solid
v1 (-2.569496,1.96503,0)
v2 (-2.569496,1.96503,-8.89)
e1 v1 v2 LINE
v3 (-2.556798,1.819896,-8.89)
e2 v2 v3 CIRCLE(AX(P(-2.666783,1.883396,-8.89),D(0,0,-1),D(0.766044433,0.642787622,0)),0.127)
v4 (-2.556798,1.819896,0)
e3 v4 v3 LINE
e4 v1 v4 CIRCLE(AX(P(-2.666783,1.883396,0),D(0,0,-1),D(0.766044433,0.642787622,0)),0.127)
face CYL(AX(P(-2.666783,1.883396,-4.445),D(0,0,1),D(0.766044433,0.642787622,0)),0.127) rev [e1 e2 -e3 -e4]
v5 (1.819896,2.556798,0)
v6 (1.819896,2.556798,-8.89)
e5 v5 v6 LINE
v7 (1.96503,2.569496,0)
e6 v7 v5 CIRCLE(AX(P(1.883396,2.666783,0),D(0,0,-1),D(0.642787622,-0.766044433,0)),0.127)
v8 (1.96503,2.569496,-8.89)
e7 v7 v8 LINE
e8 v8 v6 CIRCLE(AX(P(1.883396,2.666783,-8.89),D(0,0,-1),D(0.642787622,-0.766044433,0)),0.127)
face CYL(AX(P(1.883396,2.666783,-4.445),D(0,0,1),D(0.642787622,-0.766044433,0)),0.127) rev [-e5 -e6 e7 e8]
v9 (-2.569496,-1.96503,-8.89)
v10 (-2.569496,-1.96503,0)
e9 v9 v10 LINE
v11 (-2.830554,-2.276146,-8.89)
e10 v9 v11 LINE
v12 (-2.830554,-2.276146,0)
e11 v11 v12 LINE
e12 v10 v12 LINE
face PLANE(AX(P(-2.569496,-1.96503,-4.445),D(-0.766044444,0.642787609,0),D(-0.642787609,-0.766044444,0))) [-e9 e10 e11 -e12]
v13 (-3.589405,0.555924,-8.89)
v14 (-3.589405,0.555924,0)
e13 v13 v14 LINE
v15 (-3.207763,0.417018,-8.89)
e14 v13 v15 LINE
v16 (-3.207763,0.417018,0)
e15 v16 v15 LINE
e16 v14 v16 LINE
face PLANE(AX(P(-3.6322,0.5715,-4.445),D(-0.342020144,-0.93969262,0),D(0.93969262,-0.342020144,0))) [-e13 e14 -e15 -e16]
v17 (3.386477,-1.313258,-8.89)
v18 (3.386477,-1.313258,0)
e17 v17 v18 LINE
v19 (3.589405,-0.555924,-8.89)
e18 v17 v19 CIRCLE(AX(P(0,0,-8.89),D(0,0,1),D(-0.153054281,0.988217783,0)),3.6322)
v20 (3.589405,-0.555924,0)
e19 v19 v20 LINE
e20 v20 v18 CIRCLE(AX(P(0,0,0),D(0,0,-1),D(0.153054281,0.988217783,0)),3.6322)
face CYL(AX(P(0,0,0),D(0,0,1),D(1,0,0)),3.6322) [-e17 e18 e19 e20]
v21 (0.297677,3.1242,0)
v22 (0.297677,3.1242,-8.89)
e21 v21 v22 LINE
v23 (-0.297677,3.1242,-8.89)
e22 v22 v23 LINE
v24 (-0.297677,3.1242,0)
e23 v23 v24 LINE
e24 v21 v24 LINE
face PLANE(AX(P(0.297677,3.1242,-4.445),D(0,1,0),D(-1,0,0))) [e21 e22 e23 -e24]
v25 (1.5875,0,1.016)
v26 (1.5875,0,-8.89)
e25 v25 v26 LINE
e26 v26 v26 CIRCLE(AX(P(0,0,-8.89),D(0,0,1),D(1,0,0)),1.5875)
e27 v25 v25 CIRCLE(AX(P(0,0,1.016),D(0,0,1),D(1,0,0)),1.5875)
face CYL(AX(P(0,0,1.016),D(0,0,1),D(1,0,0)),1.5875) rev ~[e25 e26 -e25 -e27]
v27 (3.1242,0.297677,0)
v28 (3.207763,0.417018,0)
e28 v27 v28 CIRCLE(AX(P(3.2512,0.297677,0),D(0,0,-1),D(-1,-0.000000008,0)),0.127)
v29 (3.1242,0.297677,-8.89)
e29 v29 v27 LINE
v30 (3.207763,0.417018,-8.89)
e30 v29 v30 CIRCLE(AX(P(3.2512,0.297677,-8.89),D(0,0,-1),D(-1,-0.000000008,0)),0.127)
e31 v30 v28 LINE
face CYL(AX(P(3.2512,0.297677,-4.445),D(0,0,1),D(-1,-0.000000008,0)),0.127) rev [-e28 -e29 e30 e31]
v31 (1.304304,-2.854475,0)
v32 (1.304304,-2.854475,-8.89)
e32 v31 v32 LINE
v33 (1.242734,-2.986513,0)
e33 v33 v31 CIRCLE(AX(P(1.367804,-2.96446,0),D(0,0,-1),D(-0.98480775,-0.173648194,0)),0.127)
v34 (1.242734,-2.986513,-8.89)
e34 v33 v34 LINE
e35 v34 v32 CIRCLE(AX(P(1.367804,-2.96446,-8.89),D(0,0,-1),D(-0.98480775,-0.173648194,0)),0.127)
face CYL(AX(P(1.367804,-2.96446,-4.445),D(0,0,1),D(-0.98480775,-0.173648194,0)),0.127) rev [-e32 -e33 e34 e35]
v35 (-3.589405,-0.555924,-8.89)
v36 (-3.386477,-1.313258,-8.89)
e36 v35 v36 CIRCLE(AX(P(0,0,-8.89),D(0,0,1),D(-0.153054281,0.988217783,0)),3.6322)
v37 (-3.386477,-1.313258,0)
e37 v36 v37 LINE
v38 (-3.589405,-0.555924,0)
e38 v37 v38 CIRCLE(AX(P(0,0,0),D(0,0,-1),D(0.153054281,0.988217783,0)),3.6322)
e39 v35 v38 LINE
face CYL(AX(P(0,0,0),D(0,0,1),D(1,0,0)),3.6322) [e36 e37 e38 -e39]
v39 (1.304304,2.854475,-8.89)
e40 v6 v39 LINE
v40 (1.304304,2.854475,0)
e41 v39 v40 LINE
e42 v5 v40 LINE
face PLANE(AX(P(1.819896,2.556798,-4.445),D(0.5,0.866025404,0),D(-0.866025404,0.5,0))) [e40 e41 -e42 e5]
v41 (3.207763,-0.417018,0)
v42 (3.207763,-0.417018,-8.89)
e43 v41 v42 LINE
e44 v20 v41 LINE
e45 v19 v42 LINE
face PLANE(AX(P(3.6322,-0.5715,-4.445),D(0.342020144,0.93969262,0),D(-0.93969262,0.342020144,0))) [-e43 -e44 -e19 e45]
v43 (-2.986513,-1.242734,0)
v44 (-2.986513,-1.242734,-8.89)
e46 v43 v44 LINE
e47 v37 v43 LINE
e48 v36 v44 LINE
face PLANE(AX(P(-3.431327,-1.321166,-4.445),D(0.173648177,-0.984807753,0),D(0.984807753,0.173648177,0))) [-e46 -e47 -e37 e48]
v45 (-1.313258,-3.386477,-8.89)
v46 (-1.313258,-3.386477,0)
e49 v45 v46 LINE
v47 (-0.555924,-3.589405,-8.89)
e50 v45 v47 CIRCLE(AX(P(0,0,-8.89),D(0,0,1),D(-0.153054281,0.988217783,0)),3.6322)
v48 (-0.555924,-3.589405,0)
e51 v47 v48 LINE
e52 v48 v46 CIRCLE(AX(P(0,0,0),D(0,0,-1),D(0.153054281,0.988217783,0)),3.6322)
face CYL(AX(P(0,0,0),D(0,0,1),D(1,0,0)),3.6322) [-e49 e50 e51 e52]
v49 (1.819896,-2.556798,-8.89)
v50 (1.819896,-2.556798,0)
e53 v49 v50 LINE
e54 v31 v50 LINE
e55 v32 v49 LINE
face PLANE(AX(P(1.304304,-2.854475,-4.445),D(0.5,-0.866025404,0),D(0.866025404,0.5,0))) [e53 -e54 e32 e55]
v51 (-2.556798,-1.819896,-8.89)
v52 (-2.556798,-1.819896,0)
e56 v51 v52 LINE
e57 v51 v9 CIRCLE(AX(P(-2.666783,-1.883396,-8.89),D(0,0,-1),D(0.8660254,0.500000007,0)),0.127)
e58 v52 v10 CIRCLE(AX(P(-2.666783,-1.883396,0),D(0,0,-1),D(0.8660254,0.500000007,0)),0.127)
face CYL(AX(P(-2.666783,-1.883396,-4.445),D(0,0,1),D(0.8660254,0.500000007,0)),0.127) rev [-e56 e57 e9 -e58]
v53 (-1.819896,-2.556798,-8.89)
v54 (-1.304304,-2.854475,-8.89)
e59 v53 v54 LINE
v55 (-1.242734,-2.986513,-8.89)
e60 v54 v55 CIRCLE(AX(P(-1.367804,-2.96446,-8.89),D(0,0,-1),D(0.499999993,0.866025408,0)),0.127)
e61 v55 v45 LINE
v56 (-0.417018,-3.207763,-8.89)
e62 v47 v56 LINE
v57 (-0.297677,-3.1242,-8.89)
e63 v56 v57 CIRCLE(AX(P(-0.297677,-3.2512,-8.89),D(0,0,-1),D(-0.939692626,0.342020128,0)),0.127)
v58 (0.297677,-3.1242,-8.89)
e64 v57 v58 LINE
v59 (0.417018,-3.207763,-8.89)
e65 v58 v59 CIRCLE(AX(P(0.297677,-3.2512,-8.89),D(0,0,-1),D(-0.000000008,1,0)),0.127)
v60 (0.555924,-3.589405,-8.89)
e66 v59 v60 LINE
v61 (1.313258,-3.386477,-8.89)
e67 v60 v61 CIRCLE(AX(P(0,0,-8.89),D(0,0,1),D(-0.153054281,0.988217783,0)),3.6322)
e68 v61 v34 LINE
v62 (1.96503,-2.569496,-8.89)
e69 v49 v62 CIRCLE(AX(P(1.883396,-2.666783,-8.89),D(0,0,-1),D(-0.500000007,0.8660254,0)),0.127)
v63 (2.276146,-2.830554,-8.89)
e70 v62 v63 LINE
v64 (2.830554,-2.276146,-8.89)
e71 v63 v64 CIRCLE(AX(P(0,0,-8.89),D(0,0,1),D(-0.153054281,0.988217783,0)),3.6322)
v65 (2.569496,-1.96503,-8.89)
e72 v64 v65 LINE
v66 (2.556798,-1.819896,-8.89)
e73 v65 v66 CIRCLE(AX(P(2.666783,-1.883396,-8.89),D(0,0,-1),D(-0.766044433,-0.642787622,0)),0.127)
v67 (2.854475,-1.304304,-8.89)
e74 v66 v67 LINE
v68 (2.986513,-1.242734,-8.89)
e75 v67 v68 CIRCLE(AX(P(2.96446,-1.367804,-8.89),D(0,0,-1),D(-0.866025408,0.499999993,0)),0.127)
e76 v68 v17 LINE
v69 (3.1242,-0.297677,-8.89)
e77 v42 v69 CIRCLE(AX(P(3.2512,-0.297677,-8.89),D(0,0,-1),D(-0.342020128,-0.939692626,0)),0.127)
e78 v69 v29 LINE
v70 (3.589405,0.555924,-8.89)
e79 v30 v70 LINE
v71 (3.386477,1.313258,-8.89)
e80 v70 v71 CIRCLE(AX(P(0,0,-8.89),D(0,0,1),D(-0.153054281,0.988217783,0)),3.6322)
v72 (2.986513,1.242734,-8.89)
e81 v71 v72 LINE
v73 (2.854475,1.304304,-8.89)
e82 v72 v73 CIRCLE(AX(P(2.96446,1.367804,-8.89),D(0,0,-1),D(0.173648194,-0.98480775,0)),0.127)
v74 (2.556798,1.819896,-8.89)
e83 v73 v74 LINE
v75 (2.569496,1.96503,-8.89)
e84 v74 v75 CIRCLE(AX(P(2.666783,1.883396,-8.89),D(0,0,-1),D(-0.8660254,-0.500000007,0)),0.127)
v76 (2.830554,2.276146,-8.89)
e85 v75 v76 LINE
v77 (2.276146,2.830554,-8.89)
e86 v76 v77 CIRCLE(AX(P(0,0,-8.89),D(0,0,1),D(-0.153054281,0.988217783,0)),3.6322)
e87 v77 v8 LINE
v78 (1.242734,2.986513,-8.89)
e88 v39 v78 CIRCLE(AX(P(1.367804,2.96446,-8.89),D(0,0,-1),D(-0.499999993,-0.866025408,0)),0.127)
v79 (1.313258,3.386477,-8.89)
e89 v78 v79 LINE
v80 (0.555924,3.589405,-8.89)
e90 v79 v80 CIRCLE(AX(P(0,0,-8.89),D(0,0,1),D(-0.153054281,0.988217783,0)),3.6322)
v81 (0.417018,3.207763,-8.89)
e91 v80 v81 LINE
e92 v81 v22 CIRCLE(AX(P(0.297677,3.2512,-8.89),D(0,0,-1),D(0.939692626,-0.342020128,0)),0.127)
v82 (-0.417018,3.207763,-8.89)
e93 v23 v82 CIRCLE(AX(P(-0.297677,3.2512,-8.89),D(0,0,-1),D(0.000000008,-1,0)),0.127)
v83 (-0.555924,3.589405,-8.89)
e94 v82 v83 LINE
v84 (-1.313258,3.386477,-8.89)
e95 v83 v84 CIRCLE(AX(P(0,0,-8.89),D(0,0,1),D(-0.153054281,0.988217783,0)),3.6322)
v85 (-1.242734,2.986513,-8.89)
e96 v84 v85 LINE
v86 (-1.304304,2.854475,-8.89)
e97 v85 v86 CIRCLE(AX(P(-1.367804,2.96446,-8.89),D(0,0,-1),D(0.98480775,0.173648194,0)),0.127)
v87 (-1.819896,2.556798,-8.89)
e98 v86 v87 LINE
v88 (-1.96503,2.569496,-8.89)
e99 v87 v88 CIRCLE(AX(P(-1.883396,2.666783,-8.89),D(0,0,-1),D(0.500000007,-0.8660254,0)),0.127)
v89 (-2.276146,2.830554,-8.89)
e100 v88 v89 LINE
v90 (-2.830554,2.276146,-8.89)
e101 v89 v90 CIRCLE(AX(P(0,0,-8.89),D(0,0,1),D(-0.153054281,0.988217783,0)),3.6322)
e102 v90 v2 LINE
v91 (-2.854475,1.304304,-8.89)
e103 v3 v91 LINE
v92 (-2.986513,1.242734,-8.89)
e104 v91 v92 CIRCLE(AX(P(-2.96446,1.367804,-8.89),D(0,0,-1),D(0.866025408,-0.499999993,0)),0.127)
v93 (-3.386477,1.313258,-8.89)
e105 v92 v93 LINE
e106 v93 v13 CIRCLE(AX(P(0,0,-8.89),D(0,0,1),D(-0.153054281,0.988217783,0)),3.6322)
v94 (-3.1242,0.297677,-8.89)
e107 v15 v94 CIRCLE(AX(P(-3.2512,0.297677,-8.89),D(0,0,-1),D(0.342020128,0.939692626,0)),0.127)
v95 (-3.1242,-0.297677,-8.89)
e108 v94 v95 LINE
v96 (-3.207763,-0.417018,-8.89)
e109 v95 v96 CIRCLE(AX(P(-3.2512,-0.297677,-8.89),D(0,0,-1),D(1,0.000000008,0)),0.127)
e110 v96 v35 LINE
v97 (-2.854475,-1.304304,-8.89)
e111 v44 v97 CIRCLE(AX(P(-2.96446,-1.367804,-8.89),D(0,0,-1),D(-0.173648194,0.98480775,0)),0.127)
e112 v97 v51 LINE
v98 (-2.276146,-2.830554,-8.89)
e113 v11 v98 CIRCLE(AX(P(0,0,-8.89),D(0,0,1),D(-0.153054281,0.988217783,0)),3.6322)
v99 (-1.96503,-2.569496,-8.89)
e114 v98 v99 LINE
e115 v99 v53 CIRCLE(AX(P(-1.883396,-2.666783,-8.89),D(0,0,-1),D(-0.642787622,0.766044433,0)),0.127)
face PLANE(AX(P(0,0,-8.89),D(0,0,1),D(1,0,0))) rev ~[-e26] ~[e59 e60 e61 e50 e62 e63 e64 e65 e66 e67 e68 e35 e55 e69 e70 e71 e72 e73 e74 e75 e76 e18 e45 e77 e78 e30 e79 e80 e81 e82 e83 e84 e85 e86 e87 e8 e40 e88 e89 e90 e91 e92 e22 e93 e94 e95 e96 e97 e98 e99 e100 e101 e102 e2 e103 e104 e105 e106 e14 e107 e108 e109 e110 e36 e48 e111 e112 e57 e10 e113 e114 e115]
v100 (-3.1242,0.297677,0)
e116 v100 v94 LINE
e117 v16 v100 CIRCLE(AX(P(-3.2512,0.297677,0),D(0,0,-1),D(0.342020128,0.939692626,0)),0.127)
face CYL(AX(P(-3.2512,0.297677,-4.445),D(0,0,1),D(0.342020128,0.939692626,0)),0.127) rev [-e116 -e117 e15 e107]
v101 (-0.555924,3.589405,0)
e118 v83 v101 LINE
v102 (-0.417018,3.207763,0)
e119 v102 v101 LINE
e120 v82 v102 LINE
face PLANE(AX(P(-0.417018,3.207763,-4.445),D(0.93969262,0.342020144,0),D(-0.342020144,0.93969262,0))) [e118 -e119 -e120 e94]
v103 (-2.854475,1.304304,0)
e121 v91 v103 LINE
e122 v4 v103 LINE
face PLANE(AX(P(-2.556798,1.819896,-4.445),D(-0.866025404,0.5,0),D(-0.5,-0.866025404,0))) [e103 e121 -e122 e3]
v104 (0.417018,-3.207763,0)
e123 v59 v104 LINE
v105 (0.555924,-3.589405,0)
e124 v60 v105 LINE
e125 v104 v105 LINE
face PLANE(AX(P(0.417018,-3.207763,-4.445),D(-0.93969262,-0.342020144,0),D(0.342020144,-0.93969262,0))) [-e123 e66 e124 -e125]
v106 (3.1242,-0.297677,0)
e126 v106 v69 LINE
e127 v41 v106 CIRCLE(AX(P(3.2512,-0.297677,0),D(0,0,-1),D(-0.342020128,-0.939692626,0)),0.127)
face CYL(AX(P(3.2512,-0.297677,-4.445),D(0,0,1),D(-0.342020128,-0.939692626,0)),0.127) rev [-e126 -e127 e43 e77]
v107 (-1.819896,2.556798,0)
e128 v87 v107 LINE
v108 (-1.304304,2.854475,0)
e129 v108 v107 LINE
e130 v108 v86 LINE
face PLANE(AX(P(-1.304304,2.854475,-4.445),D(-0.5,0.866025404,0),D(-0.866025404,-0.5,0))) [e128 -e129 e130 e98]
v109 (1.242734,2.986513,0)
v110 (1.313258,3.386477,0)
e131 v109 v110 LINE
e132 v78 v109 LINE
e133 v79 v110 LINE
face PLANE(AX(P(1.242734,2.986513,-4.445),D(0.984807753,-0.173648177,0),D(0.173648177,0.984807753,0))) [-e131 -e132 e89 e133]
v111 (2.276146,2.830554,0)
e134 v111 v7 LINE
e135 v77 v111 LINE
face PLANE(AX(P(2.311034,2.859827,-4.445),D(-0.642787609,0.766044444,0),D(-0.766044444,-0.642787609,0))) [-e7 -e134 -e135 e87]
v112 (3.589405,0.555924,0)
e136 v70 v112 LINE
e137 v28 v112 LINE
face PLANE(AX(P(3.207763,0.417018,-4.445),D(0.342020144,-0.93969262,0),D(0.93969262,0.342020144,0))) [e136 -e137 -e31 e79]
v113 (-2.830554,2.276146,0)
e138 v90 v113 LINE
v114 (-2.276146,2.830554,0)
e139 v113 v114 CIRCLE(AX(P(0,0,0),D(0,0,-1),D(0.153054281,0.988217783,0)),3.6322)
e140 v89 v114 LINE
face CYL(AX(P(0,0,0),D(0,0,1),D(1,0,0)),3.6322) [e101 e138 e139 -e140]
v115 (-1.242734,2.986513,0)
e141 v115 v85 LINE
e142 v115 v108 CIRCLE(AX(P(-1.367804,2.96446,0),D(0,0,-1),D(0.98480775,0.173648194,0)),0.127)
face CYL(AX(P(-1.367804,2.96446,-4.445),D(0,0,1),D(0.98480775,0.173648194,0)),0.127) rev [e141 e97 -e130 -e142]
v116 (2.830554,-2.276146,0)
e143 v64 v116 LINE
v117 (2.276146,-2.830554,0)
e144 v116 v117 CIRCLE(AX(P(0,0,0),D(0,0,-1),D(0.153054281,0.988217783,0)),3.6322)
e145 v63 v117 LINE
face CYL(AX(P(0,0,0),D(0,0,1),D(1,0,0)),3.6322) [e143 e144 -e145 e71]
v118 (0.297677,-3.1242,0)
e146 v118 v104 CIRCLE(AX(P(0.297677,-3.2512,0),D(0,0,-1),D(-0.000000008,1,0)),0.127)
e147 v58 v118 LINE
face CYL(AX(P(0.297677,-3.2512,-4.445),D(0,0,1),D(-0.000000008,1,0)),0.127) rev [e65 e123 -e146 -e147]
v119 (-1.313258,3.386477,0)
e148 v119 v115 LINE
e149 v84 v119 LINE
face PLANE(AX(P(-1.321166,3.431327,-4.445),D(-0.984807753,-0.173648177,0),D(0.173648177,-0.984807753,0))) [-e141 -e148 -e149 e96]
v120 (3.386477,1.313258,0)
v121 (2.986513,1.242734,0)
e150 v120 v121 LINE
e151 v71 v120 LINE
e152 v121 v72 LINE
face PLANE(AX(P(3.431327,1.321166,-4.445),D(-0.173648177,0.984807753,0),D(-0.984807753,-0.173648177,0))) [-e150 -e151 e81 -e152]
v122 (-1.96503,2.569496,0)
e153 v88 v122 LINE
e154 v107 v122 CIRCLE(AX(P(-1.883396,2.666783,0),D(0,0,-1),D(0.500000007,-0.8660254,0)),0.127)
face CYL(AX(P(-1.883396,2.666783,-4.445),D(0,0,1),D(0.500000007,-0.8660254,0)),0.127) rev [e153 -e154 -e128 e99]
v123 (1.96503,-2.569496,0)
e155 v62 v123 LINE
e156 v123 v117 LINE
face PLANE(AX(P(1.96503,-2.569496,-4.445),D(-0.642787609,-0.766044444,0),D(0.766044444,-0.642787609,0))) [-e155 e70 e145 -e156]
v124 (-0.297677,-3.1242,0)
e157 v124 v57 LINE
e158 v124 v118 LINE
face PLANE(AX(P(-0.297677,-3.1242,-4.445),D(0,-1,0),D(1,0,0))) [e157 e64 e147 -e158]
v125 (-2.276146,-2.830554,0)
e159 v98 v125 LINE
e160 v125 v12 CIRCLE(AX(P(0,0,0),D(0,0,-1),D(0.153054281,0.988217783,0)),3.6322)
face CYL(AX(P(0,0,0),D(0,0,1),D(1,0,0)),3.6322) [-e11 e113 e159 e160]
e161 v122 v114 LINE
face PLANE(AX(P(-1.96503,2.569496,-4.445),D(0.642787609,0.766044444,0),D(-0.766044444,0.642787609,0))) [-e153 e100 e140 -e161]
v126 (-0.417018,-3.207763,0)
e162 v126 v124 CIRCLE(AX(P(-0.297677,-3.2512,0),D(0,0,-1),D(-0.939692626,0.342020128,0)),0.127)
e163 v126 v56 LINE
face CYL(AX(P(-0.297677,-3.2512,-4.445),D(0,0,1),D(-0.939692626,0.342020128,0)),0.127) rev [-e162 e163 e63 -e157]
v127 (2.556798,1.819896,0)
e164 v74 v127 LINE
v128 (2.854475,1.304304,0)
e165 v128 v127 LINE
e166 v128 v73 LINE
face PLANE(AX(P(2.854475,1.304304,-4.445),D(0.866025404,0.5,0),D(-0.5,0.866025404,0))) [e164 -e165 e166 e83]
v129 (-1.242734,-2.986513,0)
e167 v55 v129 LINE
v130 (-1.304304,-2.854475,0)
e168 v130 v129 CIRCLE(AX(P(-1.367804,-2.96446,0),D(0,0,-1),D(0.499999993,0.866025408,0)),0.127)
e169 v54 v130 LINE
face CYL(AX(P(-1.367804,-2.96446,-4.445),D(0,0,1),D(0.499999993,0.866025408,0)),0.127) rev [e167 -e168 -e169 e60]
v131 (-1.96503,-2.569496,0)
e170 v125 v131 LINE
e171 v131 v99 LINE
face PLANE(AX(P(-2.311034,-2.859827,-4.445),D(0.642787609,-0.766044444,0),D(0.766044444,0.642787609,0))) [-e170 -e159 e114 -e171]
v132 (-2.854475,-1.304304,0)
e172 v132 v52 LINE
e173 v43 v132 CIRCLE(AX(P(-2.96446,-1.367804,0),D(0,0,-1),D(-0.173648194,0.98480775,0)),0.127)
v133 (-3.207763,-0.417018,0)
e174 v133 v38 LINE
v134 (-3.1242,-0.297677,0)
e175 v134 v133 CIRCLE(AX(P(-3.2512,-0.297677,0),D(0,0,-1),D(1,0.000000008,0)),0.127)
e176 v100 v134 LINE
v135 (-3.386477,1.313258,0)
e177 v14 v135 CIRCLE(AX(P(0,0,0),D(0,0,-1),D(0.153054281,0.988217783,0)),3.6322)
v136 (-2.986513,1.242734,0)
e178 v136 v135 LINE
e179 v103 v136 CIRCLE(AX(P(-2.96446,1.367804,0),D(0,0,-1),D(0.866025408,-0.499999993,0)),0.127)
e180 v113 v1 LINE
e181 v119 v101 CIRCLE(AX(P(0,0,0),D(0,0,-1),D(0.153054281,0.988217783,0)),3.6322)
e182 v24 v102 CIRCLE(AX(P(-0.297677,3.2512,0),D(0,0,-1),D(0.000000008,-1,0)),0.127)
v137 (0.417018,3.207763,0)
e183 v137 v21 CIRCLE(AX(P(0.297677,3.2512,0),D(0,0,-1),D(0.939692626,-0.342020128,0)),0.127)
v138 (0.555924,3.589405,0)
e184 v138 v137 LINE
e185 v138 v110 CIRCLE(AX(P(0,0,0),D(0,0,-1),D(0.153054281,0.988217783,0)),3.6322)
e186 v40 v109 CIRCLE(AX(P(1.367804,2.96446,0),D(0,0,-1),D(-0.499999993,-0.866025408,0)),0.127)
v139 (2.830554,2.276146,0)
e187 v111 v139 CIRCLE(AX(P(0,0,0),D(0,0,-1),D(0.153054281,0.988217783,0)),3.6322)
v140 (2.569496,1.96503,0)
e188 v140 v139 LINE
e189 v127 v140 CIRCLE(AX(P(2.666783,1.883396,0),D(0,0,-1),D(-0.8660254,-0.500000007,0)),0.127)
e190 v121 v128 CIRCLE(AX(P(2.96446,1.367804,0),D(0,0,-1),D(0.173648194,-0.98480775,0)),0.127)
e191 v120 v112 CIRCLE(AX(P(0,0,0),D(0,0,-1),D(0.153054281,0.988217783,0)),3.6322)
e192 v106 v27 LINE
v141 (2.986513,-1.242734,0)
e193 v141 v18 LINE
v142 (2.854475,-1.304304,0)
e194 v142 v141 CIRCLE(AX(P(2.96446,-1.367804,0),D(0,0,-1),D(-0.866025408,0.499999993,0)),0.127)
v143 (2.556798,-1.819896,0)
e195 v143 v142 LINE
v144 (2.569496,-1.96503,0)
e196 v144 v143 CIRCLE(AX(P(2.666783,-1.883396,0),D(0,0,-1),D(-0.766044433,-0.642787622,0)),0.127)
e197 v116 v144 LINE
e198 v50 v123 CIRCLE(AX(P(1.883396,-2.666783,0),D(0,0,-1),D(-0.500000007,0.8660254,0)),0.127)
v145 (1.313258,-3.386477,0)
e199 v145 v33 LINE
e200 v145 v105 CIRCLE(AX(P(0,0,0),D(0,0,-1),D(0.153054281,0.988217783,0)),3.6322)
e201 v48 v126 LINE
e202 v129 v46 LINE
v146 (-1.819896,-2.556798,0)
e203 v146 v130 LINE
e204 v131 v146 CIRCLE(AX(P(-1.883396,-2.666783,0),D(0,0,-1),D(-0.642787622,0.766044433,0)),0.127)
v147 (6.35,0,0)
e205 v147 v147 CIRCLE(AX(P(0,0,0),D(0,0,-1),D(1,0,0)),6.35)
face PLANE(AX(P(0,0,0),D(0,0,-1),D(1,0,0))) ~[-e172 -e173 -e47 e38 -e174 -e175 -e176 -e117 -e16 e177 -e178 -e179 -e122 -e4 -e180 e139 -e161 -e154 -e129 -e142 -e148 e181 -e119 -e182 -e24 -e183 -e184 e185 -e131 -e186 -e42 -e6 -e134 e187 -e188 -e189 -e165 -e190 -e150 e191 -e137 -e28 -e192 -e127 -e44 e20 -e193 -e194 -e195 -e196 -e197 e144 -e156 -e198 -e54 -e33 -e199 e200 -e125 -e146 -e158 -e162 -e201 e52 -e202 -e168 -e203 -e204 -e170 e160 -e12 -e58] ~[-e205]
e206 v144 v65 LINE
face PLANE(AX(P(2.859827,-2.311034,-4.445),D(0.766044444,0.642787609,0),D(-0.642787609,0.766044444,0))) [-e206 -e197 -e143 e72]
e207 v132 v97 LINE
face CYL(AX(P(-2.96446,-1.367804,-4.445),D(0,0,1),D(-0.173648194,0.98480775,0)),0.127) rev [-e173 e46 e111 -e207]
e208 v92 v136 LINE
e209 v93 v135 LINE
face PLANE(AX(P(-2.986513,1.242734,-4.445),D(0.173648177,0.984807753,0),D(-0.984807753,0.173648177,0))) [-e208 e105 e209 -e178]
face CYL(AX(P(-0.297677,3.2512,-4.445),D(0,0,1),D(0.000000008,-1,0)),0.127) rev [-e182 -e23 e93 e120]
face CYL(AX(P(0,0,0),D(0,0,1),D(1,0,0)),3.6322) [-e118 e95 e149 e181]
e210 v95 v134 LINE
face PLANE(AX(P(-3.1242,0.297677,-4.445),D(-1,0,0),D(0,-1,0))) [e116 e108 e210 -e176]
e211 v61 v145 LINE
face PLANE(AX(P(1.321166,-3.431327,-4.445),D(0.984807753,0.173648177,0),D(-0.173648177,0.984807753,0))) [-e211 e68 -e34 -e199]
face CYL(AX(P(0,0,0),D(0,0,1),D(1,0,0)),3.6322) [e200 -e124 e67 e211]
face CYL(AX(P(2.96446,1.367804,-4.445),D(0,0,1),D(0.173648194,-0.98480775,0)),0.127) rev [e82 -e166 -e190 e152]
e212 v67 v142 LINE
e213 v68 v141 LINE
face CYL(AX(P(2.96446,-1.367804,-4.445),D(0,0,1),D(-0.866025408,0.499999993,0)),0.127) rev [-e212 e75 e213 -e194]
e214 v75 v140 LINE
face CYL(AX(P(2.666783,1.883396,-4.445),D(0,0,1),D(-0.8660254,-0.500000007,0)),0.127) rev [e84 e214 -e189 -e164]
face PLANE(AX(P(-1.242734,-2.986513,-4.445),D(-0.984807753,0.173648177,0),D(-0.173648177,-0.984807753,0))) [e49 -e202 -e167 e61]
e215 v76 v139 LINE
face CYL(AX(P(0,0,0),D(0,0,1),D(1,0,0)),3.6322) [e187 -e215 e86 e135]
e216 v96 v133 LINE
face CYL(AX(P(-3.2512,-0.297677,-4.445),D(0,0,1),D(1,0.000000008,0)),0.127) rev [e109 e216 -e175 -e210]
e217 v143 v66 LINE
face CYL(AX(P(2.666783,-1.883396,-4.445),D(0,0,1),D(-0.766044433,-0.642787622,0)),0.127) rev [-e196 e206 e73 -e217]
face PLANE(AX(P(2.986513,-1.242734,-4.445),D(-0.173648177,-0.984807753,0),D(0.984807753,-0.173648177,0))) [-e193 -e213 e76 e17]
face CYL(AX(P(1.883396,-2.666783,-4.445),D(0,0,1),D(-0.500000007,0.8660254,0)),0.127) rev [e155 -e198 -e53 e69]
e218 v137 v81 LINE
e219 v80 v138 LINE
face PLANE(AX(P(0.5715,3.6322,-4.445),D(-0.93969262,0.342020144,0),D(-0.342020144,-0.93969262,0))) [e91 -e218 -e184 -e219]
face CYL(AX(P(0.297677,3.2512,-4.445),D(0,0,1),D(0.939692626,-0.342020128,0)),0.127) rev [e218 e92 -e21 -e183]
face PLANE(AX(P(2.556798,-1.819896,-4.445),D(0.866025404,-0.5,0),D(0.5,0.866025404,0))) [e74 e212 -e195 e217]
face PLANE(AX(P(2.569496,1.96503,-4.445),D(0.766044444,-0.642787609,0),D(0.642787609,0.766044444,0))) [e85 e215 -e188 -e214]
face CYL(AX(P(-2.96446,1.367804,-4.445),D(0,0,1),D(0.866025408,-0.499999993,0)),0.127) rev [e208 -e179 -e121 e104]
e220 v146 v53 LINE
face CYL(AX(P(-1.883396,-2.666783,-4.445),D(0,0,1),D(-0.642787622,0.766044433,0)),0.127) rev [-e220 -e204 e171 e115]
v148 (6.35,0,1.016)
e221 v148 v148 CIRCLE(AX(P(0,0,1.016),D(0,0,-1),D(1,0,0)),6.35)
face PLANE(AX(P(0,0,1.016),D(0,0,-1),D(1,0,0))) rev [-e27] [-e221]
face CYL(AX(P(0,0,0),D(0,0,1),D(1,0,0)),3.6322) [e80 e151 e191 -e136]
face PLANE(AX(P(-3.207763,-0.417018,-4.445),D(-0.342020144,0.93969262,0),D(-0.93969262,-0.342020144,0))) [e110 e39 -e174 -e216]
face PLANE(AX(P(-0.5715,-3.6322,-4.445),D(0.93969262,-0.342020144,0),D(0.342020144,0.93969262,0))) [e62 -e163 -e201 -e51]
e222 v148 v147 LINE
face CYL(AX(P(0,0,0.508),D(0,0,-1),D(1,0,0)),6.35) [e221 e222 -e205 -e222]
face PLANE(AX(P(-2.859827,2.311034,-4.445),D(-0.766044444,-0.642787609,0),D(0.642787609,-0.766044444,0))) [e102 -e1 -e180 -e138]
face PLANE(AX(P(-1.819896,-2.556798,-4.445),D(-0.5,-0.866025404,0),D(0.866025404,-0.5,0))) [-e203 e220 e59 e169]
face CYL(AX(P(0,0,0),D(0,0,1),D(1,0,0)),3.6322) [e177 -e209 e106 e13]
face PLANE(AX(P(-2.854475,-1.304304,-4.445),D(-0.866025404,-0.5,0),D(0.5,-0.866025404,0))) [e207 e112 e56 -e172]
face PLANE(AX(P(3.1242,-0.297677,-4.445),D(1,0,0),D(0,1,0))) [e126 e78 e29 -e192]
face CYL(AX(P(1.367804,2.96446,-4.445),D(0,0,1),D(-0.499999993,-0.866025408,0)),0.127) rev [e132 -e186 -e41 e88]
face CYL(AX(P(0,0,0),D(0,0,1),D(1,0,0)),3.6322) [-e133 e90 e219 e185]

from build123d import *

# Parameters (mm, degrees)
SKETCH1_R        = 3.6322
BASEPULLEY_DEPTH = 8.89
GROOVE_DEPTH     = 4.445
GROOVES_COUNT    = 12
GROOVES_ANGLE    = 330
SKETCH4_W        = 1.016
SKETCH4_H        = 6.35
BORSKE_R         = 1.5875
BORE_DEPTH       = 14.370633343


with BuildPart() as part:
    # Sketch1 → BasePulley (new body)
    with BuildSketch(Plane.XY):
        Circle(SKETCH1_R)
    extrude(amount=-BASEPULLEY_DEPTH)

    # Sketch3 → Groove (cut, symmetric)
    with BuildSketch(Plane.XY.offset(-4.445)):
        with BuildLine():
            Line((-0.5715, 3.6322), (-0.5715, 29.0322))
            Line((-0.5715, 29.0322), (0.5715, 29.0322))
            Line((0.5715, 29.0322), (0.5715, 3.6322))
            Line((0.5715, 3.6322), (0.417017726, 3.207763442))
            ThreePointArc((0.417017726, 3.207763442), (0.370520971, 3.14716769), (0.297676764, 3.1242))
            Line((0.297676764, 3.1242), (-0.297676764, 3.1242))
            ThreePointArc((-0.297676764, 3.1242), (-0.370520971, 3.14716769), (-0.417017726, 3.207763442))
            Line((-0.417017726, 3.207763442), (-0.5715, 3.6322))
        make_face()
    groove = extrude(amount=GROOVE_DEPTH, both=True, mode=Mode.SUBTRACT)

    # Grooves: Groove ×12 about axis
    grooves_axis = Axis((0, 0, -8.89), (0, 0, 1))
    for i in range(1, GROOVES_COUNT):
        add(groove.rotate(grooves_axis, i * GROOVES_ANGLE / (GROOVES_COUNT - 1)), mode=Mode.SUBTRACT)

    # Sketch4 → BaseHub (revolve)
    with BuildSketch(Plane(origin=(0, 0, 0), x_dir=(0, 0, -1), z_dir=(1, 0, 0)), mode=Mode.PRIVATE) as basehub_sk:
        with Locations((-0.508, 3.175)):
            Rectangle(SKETCH4_W, SKETCH4_H)
    revolve(basehub_sk.sketch.rotate(Axis((0, 0, 0), (0, 0, -1)), 90), axis=Axis((0, 0, 0), (0, 0, -1)))

    # BorSke → Bore (cut, through all)
    with BuildSketch(Plane.XY.offset(1.016)):
        Circle(BORSKE_R)
    extrude(amount=-BORE_DEPTH, mode=Mode.SUBTRACT)


solid = part.part
